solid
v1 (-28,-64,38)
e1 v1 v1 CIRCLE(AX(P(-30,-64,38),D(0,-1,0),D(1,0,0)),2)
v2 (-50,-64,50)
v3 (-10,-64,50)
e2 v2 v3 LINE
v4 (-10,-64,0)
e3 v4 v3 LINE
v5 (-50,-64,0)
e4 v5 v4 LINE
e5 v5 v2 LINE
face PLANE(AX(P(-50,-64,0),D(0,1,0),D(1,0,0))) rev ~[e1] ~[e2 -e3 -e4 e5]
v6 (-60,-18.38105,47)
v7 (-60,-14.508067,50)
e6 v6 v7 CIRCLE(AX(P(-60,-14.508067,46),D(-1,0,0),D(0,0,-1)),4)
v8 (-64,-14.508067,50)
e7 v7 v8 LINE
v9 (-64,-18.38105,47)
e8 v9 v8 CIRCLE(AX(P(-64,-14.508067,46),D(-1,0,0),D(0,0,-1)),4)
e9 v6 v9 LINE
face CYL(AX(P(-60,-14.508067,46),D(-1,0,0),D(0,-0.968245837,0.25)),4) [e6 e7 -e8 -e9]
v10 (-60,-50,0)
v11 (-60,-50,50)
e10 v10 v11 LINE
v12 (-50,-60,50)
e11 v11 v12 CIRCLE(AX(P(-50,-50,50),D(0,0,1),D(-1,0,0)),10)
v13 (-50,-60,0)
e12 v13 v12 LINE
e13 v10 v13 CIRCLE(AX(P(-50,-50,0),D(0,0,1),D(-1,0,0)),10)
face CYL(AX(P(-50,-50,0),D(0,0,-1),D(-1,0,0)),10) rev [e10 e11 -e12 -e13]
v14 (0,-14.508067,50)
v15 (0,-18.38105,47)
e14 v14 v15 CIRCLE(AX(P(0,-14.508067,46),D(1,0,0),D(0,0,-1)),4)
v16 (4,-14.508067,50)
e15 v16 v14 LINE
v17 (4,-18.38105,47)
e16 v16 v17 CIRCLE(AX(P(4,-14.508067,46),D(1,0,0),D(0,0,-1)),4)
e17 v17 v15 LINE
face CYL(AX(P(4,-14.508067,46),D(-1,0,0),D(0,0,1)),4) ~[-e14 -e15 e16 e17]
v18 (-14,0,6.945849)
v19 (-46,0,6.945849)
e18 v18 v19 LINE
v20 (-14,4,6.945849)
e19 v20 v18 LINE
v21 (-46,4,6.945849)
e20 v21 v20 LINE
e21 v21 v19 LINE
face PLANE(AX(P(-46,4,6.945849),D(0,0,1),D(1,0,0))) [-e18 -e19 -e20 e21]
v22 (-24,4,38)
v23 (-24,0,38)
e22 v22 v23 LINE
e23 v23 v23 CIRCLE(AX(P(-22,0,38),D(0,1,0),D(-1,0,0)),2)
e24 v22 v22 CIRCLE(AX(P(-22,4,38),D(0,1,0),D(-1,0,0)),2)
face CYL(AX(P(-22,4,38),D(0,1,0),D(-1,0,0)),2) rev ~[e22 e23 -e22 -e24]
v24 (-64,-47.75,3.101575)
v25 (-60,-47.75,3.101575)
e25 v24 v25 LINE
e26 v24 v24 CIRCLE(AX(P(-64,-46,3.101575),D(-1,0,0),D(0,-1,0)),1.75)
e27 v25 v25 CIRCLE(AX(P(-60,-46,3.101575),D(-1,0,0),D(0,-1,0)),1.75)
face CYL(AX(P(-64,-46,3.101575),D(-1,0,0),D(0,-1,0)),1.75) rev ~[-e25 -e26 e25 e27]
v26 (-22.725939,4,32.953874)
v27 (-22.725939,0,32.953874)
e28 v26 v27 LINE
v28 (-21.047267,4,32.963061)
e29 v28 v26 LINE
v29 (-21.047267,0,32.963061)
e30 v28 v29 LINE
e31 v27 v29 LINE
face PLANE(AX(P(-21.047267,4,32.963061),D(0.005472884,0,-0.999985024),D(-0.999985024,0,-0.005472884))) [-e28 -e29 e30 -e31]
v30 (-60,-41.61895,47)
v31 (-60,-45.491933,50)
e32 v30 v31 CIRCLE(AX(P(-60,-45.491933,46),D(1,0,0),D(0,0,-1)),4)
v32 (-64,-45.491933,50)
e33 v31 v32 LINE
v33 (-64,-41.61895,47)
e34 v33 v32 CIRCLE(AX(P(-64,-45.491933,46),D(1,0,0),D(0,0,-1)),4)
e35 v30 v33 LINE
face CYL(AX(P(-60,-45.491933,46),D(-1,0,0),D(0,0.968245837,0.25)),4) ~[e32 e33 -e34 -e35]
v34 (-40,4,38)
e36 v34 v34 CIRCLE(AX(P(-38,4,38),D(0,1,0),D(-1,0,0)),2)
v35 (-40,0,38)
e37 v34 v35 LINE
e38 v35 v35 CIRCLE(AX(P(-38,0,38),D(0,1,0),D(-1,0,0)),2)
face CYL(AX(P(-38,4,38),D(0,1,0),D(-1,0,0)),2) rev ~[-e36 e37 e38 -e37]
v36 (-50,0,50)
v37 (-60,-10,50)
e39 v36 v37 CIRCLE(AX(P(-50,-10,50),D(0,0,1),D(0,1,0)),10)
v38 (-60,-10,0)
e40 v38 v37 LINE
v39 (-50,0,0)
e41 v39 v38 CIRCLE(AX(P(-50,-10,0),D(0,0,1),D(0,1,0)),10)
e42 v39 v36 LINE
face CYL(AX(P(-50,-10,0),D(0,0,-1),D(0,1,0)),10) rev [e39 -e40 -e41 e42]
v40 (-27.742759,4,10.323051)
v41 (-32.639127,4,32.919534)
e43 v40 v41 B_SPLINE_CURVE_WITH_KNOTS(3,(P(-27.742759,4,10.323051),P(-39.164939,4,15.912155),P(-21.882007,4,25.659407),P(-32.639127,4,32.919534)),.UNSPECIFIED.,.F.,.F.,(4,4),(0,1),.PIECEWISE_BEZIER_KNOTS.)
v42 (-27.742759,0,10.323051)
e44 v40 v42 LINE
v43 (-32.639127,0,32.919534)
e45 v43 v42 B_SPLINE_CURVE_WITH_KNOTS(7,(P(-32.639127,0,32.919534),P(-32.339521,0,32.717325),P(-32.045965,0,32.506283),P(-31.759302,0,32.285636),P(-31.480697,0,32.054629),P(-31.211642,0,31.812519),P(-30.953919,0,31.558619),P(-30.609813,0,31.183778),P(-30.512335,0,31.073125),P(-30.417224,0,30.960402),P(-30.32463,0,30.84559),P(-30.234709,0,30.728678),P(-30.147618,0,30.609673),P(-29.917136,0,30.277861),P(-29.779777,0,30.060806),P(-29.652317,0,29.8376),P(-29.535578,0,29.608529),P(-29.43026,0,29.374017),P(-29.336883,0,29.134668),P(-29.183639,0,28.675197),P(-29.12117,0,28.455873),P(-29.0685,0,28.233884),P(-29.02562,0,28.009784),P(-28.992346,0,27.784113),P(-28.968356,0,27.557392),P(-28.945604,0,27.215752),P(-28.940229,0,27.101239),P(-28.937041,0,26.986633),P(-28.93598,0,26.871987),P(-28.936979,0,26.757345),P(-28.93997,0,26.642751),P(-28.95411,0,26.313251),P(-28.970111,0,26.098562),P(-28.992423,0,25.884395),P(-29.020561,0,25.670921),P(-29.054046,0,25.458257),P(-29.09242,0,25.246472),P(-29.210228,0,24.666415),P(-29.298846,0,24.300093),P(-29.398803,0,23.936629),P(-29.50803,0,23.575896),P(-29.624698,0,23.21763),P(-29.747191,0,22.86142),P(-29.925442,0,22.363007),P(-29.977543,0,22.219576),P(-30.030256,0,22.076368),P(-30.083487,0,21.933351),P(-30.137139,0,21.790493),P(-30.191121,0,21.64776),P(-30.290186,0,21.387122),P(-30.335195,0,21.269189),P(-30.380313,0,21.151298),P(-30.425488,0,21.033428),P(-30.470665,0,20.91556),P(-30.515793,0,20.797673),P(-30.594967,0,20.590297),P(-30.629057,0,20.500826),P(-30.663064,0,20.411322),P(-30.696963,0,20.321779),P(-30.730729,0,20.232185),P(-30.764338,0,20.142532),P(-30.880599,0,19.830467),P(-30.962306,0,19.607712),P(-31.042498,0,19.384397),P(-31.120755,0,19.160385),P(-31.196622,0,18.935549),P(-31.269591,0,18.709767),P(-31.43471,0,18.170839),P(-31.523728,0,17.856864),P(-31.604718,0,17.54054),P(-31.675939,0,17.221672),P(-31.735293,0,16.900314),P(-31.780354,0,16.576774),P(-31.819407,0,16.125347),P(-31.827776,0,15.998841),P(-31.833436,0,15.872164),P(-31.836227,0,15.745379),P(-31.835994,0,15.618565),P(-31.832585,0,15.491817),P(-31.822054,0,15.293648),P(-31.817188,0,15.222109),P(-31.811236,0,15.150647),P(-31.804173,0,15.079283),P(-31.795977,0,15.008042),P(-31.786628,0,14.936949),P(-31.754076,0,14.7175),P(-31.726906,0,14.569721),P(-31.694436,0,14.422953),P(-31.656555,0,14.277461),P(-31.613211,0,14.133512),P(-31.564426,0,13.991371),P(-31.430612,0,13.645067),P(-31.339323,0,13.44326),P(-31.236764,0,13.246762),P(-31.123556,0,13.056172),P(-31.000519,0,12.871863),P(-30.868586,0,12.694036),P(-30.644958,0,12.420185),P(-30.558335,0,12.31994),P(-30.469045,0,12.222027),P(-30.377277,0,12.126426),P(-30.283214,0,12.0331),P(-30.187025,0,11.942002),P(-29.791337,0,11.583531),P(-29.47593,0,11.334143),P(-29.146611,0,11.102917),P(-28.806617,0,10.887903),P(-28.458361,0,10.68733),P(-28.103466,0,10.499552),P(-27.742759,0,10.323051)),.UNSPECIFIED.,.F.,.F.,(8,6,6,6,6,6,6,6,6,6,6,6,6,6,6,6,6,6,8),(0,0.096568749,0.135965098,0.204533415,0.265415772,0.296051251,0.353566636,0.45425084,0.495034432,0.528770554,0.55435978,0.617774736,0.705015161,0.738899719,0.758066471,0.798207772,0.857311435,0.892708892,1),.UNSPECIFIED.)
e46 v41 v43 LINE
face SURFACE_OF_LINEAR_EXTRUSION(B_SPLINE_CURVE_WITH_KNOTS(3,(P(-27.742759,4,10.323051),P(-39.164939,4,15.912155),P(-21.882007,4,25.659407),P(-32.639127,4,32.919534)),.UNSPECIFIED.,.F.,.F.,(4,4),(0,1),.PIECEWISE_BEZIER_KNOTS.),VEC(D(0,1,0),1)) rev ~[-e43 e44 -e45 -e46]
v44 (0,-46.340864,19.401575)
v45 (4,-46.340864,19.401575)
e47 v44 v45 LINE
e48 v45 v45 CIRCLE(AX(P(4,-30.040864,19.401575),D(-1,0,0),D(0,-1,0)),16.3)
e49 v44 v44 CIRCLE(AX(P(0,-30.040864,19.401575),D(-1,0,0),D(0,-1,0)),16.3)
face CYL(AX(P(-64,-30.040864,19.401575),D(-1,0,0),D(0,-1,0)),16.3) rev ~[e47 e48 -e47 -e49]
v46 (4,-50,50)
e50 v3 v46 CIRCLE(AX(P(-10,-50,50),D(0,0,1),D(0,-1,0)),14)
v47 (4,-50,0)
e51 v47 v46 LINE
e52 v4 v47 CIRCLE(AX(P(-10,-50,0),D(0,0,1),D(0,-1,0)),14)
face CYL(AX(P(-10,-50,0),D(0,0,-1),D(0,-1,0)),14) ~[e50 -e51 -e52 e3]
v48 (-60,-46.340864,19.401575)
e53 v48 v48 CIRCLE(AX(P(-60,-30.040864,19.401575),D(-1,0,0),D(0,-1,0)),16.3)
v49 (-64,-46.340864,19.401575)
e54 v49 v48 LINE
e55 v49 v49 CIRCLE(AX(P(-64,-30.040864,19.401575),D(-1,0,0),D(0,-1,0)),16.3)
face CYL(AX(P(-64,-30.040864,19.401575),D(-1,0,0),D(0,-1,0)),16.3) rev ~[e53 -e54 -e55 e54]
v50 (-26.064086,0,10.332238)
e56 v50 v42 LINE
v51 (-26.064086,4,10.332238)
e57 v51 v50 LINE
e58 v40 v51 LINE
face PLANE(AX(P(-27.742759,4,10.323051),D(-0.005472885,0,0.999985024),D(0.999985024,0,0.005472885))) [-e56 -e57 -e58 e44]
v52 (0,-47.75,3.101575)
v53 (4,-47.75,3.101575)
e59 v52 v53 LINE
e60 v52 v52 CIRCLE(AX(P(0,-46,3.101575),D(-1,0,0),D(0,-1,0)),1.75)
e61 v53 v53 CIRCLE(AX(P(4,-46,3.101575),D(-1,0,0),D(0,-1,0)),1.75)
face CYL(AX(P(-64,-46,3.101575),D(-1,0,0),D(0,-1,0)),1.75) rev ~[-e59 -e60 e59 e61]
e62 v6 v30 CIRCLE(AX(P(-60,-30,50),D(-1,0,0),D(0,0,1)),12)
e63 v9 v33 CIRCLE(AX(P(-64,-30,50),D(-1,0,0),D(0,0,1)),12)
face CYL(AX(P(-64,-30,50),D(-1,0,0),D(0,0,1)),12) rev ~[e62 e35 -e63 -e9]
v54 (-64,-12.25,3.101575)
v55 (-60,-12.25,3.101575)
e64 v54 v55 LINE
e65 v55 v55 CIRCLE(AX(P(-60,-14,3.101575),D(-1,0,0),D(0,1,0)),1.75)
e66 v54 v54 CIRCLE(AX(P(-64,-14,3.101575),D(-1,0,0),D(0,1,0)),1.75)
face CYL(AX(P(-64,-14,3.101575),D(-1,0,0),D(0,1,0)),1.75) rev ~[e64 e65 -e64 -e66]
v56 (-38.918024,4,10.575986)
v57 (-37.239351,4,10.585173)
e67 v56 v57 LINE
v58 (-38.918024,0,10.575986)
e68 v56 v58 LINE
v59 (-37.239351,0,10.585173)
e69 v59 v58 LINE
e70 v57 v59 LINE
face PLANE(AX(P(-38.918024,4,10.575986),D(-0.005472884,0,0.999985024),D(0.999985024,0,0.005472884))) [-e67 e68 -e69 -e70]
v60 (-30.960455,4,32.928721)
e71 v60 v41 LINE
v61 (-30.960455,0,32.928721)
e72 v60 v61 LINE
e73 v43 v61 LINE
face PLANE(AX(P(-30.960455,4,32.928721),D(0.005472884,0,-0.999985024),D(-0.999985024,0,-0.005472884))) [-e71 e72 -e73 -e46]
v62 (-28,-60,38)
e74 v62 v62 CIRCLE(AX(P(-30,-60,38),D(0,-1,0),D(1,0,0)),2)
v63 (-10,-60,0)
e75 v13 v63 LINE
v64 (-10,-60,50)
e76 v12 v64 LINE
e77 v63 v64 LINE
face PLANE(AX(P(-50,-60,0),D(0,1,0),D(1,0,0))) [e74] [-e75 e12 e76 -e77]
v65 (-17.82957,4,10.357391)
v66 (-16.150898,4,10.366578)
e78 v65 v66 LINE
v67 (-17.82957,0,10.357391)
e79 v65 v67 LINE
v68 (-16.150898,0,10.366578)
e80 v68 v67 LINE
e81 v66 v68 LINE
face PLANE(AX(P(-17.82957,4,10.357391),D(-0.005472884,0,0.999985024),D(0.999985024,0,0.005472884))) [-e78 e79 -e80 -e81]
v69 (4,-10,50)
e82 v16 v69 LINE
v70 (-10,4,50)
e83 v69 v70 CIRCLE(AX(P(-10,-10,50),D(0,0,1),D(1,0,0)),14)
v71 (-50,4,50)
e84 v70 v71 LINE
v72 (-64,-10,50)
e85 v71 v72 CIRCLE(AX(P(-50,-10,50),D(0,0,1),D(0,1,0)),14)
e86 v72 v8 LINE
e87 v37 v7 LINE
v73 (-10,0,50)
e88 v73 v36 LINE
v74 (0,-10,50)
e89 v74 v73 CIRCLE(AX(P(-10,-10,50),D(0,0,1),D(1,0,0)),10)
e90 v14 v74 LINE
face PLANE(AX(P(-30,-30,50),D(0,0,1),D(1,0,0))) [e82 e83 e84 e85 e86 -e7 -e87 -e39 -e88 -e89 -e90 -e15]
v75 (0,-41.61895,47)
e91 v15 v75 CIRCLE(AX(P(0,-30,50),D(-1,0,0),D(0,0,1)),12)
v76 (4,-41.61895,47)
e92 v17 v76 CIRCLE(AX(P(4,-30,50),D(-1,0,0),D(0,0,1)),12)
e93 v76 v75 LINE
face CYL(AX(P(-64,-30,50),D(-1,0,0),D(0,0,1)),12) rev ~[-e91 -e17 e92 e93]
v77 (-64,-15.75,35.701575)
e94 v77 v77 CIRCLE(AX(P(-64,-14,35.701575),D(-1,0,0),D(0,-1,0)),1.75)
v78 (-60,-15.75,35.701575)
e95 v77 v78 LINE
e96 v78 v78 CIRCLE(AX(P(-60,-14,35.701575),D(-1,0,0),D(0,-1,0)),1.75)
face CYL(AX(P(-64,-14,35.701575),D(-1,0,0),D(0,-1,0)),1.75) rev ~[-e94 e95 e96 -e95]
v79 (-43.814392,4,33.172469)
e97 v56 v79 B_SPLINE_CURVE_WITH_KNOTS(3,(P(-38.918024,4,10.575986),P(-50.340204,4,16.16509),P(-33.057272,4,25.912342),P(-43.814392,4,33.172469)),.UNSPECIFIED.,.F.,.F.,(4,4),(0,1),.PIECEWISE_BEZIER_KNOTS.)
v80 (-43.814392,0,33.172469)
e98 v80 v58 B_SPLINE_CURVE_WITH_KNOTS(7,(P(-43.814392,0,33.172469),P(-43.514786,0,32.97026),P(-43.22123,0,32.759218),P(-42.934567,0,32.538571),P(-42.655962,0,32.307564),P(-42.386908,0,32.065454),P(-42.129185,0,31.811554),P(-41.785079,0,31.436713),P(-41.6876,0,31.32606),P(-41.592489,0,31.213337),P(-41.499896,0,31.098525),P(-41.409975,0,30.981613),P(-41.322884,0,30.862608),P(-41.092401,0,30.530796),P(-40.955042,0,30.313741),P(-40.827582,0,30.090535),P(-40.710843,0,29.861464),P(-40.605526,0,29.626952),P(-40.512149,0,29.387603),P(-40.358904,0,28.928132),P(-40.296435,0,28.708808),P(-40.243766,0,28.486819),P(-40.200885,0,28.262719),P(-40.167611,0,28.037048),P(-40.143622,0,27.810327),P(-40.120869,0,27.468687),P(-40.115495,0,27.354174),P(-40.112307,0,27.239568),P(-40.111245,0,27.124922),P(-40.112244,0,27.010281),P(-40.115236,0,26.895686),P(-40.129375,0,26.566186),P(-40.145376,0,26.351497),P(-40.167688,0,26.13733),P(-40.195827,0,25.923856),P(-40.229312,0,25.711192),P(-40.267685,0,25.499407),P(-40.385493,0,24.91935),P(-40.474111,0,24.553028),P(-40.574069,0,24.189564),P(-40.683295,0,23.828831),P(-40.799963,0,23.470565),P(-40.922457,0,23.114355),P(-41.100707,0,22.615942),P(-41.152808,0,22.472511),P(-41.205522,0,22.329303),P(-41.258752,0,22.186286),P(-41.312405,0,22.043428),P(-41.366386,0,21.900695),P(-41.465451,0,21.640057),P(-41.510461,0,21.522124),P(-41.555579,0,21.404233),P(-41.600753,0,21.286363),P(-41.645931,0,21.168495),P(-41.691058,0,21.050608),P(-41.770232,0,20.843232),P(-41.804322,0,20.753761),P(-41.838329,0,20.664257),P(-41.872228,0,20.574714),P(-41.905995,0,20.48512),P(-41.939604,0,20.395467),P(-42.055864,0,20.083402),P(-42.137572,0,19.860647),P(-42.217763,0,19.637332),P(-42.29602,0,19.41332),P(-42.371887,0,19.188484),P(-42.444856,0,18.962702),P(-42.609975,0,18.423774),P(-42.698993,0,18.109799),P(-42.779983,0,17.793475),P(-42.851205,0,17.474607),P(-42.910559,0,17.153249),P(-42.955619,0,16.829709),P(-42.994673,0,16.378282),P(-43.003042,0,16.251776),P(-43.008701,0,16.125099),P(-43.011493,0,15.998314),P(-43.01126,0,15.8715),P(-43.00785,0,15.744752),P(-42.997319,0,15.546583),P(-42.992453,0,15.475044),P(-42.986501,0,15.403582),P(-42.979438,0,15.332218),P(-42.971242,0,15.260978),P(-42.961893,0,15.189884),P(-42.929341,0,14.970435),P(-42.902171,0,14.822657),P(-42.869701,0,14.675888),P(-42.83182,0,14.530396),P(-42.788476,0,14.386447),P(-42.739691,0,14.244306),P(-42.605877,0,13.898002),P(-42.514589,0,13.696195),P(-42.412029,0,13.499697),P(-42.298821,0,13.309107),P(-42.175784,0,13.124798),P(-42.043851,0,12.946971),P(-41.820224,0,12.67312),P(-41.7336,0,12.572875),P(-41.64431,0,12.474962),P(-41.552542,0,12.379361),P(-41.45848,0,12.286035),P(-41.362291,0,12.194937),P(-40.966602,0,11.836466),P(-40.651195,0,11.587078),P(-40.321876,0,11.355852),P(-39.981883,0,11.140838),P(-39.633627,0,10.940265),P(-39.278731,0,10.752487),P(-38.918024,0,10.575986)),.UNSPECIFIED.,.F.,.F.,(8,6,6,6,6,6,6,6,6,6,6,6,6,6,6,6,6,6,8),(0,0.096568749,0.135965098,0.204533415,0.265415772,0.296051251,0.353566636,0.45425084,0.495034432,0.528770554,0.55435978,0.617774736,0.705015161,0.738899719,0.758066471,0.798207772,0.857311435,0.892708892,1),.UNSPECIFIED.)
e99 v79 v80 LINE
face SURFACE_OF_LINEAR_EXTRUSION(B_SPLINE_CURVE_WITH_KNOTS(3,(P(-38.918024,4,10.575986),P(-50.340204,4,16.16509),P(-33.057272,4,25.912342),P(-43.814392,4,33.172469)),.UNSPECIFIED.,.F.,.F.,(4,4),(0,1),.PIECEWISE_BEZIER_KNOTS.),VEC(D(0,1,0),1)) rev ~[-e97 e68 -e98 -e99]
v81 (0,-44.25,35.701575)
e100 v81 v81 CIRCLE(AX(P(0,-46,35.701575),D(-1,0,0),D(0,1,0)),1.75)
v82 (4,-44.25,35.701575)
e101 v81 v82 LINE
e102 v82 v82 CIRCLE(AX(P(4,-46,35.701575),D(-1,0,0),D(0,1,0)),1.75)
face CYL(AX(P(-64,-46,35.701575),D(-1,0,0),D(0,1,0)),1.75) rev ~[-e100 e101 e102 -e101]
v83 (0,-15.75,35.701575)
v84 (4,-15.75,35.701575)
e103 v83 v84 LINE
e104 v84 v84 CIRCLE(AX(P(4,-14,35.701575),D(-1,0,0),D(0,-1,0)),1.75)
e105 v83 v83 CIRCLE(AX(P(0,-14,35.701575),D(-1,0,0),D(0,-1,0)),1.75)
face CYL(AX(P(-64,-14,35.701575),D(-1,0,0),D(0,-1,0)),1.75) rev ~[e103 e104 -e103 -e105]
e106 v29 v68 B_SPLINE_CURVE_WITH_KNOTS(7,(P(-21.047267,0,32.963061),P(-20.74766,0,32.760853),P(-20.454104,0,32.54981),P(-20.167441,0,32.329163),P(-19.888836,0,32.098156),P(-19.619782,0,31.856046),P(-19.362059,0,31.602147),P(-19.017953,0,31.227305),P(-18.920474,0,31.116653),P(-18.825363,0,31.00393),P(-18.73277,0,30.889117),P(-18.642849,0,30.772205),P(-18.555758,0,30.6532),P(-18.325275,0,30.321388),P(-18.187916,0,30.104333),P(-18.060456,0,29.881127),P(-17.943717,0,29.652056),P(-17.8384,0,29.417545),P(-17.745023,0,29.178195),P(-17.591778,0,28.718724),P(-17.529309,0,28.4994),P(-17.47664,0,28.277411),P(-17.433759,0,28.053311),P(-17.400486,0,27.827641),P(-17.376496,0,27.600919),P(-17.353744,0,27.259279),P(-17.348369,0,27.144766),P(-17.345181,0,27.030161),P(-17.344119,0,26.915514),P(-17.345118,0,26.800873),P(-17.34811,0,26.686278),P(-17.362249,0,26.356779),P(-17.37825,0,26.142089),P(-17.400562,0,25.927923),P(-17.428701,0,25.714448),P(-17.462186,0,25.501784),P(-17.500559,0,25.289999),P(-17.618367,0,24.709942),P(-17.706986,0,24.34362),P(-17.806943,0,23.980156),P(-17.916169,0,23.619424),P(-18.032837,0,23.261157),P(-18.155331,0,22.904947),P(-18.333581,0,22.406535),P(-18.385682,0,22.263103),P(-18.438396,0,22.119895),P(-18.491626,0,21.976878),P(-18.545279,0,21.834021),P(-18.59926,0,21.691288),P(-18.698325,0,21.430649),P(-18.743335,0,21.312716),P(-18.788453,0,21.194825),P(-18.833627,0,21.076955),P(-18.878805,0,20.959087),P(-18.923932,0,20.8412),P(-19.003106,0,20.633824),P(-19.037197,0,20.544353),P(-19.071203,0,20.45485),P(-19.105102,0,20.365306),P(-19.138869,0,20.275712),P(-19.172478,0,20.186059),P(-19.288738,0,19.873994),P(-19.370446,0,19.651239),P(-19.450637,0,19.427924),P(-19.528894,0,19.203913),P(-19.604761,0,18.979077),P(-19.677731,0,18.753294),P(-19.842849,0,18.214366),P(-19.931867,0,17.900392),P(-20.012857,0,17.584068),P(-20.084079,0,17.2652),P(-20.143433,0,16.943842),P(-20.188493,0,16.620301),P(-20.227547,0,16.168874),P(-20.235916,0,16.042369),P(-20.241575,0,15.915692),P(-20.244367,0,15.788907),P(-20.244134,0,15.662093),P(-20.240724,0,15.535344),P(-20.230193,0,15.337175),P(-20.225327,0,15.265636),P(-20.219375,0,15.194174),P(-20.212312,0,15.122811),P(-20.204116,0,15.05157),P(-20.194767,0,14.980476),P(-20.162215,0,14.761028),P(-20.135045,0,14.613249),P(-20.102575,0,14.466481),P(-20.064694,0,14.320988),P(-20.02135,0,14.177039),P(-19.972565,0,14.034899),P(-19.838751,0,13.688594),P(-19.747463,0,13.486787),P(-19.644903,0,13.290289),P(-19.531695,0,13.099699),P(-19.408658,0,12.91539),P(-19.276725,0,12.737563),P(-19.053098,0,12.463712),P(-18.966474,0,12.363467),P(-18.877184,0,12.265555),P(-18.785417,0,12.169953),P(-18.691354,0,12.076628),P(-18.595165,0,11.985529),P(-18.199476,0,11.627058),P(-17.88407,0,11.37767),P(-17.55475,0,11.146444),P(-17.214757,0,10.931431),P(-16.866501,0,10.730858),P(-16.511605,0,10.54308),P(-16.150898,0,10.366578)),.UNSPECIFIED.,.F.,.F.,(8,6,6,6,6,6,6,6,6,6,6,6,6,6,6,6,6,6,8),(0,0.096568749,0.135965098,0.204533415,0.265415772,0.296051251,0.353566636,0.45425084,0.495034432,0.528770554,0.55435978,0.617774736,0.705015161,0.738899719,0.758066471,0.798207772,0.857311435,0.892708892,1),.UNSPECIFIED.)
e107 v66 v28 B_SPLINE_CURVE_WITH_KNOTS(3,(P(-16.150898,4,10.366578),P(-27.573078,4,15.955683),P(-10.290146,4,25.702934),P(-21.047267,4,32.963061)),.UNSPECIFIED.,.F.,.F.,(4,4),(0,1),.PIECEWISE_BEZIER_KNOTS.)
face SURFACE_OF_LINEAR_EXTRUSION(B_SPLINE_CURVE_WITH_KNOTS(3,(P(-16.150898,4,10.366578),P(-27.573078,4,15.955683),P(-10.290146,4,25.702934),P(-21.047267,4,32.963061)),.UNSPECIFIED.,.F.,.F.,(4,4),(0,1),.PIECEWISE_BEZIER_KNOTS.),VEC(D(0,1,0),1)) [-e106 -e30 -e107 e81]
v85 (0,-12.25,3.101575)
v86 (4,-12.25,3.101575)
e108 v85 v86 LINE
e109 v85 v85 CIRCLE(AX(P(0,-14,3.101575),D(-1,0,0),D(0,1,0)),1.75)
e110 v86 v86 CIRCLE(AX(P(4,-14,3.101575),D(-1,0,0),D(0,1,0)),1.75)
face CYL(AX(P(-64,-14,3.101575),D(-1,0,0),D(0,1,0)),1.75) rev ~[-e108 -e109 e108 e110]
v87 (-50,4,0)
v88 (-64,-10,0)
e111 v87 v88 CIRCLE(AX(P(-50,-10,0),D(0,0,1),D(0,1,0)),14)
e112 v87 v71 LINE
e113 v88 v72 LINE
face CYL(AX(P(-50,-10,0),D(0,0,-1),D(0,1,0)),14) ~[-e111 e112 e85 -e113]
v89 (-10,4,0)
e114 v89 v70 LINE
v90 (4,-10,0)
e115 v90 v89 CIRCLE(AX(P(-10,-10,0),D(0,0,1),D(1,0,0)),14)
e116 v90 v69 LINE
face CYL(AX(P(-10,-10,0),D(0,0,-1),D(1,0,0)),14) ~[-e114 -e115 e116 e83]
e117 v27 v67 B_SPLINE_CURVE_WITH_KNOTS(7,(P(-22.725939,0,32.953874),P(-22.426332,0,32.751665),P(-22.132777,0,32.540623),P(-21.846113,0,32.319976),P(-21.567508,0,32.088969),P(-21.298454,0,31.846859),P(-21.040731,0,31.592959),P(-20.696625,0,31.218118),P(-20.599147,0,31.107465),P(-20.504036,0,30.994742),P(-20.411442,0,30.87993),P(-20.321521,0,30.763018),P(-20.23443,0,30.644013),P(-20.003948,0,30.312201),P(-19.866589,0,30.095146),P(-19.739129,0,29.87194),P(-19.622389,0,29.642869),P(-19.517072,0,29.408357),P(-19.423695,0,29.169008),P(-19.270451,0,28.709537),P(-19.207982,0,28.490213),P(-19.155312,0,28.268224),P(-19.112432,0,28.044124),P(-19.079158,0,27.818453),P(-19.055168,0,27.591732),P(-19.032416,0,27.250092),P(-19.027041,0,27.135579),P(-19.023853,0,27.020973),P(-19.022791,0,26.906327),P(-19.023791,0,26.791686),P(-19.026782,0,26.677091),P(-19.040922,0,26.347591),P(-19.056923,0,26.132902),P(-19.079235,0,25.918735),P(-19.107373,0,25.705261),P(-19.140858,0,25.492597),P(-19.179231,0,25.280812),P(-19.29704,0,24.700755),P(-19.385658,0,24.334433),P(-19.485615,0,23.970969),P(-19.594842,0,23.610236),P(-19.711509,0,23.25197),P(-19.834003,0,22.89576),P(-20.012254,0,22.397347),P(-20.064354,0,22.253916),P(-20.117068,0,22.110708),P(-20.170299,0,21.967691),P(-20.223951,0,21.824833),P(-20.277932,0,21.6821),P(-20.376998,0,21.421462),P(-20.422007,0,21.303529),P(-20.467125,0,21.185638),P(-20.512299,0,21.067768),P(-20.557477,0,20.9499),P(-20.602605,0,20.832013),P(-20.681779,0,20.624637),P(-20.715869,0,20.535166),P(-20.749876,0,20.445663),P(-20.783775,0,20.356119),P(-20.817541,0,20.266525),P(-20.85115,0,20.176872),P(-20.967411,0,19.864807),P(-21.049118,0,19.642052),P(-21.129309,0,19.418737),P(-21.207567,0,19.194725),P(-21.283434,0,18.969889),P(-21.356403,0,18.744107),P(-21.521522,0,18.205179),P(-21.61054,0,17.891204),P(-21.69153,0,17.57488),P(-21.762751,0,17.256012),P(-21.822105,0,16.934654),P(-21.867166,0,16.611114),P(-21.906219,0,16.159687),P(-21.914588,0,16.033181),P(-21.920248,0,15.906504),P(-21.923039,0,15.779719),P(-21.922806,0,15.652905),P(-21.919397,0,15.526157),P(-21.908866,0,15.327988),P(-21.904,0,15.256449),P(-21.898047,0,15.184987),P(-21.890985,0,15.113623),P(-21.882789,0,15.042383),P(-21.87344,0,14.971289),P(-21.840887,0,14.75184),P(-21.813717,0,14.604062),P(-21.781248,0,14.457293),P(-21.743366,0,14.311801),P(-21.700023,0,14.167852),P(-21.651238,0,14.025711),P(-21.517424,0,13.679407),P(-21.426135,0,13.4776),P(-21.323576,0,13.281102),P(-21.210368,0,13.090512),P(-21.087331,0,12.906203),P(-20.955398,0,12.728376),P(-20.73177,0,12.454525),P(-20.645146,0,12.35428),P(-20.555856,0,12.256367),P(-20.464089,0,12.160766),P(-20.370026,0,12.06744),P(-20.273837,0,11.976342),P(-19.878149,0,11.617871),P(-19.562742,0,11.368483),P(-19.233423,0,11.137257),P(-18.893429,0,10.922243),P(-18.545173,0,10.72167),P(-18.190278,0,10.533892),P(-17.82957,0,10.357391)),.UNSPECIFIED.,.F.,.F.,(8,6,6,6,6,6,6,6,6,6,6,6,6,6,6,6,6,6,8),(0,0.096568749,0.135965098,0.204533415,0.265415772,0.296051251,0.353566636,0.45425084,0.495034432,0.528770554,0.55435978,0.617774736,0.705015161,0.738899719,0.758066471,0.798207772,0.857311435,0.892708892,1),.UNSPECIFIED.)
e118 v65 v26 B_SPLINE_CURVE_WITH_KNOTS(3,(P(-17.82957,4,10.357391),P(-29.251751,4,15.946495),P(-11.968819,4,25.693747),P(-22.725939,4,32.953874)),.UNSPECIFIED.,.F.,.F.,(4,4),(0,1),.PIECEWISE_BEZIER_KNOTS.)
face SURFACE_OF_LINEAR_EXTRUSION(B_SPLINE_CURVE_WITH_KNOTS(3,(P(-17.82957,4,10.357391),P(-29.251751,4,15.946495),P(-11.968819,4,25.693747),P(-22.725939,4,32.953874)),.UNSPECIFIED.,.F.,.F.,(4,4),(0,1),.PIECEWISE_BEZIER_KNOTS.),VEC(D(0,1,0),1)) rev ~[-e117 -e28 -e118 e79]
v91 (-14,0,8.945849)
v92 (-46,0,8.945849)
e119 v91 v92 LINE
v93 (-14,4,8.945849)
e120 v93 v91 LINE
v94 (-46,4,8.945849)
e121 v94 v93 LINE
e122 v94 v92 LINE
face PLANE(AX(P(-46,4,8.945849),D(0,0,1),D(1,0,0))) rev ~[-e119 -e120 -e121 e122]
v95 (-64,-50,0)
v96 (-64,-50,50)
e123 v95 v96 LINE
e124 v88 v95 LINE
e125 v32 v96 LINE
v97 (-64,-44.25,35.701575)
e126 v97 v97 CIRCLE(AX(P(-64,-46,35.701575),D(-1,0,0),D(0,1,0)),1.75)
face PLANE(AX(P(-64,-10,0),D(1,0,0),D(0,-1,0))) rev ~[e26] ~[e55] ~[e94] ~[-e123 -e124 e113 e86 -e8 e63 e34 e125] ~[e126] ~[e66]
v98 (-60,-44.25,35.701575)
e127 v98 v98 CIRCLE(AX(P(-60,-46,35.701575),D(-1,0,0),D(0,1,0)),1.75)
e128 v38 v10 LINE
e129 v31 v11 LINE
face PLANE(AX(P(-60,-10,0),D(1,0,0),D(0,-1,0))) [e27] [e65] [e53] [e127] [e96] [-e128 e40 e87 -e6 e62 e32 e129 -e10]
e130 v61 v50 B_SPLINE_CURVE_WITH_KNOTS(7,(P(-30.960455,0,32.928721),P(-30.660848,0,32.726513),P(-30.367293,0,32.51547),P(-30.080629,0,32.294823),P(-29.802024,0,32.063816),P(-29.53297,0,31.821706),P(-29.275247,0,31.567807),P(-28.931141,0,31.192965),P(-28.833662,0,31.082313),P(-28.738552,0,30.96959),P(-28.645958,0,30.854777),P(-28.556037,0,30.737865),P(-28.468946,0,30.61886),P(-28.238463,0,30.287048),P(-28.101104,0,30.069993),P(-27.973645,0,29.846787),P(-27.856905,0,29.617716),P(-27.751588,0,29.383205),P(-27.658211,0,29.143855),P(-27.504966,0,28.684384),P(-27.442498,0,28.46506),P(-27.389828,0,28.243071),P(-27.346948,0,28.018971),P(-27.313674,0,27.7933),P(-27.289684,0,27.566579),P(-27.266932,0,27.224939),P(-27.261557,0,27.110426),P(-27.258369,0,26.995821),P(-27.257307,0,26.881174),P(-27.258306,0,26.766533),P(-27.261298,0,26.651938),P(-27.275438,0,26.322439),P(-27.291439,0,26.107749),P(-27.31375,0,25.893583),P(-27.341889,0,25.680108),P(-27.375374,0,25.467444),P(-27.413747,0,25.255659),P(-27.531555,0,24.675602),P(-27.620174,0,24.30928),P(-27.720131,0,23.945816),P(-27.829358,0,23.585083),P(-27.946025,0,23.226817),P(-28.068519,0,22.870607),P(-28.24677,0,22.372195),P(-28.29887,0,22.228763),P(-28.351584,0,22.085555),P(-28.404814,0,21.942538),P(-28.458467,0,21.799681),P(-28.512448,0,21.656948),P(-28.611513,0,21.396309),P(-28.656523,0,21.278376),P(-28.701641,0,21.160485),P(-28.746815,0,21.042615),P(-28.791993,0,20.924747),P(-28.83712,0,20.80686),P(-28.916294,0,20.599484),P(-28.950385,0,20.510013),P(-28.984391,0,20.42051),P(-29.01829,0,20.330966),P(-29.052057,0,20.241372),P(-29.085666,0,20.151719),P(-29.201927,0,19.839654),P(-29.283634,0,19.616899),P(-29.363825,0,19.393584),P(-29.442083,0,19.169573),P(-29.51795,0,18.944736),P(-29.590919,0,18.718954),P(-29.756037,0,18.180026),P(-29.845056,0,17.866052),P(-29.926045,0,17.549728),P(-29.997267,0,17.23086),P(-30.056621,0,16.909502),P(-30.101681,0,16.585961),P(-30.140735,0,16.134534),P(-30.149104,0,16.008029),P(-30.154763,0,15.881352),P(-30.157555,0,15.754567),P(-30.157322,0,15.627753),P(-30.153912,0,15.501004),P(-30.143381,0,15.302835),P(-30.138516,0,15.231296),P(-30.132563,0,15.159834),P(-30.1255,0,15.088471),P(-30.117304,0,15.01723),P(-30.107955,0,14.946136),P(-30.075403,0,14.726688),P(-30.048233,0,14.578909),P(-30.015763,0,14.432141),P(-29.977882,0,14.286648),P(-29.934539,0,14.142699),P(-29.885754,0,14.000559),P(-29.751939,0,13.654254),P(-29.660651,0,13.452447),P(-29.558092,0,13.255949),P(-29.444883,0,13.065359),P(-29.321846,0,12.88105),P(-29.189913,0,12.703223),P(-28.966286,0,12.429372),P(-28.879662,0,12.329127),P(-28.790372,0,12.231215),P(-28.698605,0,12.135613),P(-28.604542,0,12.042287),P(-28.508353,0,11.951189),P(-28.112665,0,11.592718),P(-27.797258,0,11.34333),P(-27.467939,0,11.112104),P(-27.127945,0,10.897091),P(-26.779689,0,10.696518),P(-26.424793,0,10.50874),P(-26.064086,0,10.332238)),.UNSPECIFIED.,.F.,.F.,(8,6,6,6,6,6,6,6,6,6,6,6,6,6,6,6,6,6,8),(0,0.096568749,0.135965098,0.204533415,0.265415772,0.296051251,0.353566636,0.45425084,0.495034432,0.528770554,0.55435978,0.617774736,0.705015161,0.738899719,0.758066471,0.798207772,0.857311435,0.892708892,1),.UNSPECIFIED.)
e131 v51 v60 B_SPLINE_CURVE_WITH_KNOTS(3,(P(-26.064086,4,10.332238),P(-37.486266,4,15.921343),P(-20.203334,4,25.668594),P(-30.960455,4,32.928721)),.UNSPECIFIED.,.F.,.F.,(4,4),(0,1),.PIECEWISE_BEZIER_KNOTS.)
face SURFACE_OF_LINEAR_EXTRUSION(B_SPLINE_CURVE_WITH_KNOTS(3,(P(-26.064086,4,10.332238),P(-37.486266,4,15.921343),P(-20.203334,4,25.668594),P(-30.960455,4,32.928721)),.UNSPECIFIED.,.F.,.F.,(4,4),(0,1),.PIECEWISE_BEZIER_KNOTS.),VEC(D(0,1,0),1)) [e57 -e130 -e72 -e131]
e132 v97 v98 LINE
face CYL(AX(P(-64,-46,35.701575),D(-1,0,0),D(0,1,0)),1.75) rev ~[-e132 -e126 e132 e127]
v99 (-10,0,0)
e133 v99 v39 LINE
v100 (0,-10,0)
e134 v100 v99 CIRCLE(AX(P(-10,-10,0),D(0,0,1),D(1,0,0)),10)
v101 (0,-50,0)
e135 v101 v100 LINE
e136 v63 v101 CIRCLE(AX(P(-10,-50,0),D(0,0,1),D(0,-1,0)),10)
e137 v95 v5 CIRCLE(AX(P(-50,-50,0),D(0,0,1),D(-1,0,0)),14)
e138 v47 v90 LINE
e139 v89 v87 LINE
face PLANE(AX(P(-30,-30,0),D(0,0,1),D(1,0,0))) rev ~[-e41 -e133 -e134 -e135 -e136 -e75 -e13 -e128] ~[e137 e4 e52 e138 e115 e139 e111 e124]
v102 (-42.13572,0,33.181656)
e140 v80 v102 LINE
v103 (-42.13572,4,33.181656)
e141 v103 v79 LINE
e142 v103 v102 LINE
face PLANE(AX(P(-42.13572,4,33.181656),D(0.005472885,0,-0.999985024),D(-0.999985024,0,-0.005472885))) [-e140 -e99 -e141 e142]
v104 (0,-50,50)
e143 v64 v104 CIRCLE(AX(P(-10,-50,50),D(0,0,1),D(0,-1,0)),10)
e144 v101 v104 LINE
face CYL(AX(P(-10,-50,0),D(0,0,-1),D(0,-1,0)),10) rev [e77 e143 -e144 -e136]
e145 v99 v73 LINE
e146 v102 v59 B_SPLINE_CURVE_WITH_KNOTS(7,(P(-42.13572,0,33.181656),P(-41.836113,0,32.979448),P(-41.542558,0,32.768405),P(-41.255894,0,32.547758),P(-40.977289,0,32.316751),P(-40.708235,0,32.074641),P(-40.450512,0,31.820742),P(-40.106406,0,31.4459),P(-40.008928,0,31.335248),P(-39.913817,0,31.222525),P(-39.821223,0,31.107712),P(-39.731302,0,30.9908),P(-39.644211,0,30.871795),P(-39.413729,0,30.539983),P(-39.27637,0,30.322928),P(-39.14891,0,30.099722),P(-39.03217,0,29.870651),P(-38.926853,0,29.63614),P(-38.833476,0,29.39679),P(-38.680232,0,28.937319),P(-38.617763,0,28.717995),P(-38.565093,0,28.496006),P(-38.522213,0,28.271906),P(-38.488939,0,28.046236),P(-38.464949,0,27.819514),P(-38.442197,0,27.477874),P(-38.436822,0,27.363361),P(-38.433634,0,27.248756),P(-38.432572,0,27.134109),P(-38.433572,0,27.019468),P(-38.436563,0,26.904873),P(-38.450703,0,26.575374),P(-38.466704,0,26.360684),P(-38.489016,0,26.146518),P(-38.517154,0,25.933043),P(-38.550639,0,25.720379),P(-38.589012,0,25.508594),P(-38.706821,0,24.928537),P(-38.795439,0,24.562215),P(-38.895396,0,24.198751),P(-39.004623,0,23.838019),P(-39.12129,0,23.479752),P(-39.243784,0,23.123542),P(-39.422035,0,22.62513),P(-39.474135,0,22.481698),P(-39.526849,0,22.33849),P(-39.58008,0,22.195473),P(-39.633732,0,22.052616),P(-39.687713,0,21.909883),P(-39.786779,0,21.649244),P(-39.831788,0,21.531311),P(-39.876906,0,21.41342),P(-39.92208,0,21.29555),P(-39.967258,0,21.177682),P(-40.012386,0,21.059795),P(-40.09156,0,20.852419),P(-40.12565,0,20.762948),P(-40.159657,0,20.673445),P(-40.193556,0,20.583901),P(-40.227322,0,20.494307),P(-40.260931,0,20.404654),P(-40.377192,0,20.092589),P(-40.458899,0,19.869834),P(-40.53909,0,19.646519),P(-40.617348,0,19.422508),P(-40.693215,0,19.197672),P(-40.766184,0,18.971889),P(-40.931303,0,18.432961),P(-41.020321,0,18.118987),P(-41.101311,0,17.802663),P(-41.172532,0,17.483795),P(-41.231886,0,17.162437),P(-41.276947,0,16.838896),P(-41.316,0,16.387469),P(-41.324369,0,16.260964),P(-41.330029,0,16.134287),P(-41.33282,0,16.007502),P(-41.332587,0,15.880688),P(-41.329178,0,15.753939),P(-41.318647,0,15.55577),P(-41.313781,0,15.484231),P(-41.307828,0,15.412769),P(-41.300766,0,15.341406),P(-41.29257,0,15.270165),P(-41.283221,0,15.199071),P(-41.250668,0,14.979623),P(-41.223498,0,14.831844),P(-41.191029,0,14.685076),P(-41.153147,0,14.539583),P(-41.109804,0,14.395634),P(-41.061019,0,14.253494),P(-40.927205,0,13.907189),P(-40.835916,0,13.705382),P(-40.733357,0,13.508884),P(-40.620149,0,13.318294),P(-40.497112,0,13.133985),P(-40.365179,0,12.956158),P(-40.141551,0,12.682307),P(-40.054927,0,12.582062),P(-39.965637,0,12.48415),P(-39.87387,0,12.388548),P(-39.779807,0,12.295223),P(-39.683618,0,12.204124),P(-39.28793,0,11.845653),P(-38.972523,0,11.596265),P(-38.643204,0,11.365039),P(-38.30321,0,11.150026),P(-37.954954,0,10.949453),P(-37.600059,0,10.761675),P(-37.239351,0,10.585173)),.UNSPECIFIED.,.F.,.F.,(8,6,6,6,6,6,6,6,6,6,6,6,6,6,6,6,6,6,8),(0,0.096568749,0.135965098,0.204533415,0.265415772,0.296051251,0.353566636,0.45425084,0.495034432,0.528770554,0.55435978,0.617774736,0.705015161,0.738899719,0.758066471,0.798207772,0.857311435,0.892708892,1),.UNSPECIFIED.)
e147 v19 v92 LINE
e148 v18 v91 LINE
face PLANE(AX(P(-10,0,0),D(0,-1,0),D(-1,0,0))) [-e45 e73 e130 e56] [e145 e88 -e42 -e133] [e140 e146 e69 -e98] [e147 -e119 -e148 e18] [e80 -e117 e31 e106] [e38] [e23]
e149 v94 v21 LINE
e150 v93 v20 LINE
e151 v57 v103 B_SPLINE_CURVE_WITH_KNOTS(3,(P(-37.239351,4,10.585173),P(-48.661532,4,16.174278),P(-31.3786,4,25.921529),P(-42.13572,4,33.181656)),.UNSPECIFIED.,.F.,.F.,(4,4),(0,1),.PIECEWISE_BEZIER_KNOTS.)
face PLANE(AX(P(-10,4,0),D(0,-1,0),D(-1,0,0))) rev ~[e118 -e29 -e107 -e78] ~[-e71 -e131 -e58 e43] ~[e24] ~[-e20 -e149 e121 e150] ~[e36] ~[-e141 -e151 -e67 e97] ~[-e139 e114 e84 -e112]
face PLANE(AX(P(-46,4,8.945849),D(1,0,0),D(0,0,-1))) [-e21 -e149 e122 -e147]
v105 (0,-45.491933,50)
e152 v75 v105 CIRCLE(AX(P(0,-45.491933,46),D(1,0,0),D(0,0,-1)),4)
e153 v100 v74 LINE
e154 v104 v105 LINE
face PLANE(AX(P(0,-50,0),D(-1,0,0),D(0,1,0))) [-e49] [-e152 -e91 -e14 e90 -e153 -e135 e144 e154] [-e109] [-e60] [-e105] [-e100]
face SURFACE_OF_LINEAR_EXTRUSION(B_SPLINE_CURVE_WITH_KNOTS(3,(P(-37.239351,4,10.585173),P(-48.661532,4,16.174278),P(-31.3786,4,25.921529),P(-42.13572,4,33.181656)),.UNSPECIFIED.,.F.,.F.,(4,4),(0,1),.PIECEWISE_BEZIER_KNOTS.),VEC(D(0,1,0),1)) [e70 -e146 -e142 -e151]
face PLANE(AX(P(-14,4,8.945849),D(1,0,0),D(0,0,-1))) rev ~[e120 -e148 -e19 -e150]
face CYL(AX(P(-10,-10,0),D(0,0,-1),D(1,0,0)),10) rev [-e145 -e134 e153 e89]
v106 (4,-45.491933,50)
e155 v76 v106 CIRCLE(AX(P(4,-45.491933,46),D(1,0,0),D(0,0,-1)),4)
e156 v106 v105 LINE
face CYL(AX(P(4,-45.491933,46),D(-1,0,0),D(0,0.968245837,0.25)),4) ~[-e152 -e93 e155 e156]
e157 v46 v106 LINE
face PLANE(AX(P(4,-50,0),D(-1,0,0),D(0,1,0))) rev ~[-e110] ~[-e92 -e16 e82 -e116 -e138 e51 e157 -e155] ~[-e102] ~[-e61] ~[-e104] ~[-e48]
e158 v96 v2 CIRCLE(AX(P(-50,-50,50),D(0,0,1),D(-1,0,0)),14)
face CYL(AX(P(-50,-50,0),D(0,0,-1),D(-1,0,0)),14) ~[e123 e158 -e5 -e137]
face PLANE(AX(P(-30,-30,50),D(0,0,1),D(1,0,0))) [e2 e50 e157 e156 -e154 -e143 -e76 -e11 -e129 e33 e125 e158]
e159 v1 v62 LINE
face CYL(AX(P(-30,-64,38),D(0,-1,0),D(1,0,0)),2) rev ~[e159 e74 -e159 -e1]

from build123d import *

# Parameters (mm, degrees)
ESTRUSIONE_SOTTILE1_DEPTH = 50
SCHIZZO2_R                = 2
TAGLIO_ESTRUSIONE1_DEPTH  = 10
SCHIZZO3_R                = 12
TAGLIO_ESTRUSIONE2_DEPTH  = 68
RACCORDO1_R               = 4
RACCORDO2_R               = 4
RACCORDO3_R               = 4
RACCORDO4_R               = 4
SCHIZZO4_R                = 2
TAGLIO_ESTRUSIONE3_DEPTH  = 10
SCHIZZO5_W                = 32
SCHIZZO5_H                = 2
TAGLIO_ESTRUSIONE4_DEPTH  = 10
TAGLIO_ESTRUSIONE6_REACH  = 107.925
SCHIZZO8_R                = 16.3
TAGLIO_ESTRUSIONE5_REACH  = 107.925
SCHIZZO7_R                = 1.75


with BuildPart() as part:
    # Schizzo1 → Estrusione-Sottile1 (new body)
    with BuildSketch(Plane.XY):
        with BuildLine():
            Line((-64, -10), (-64, -50))
            ThreePointArc((-64, -50), (-59.899494937, -59.899494937), (-50, -64))
            Line((-50, -64), (-10, -64))
            ThreePointArc((-10, -64), (-0.100505063, -59.899494937), (4, -50))
            Line((4, -50), (4, -10))
            ThreePointArc((4, -10), (-0.100505063, -0.100505063), (-10, 4))
            Line((-10, 4), (-50, 4))
            ThreePointArc((-50, 4), (-59.899494937, -0.100505063), (-64, -10))
        make_face()
        with BuildLine():
            Line((-60, -10), (-60, -50))
            ThreePointArc((-60, -50), (-57.071067812, -57.071067812), (-50, -60))
            Line((-50, -60), (-10, -60))
            ThreePointArc((-10, -60), (-2.928932188, -57.071067812), (0, -50))
            Line((0, -50), (0, -10))
            ThreePointArc((0, -10), (-2.928932188, -2.928932188), (-10, 0))
            Line((-10, 0), (-50, 0))
            ThreePointArc((-50, 0), (-57.071067812, -2.928932188), (-60, -10))
        make_face(mode=Mode.SUBTRACT)
    extrude(amount=ESTRUSIONE_SOTTILE1_DEPTH)

    # Schizzo2 → Taglio-Estrusione1 (cut)
    with BuildSketch(Plane(origin=(0, 4, 0), x_dir=(1, 0, 0), z_dir=(0, 1, 0))):
        with Locations(Location((-38, -38, 0), (0, 0, 180))):
            Circle(SCHIZZO2_R)
        with Locations(Location((-22, -38, 0), (0, 0, 180))):
            Circle(SCHIZZO2_R)
    extrude(amount=-TAGLIO_ESTRUSIONE1_DEPTH, mode=Mode.SUBTRACT)

    # Schizzo3 → Taglio-Estrusione2 (cut)
    with BuildSketch(Plane.ZY.offset(64)):
        with Locations((50, -30)):
            Circle(SCHIZZO3_R)
    extrude(amount=-TAGLIO_ESTRUSIONE2_DEPTH, mode=Mode.SUBTRACT)

    # Raccordo1
    raccordo1_edges = [part.edges().sort_by_distance(p)[0] for p in [
        (-62, -18, 50),
    ]]
    fillet(raccordo1_edges, radius=RACCORDO1_R)

    # Raccordo2
    raccordo2_edges = [part.edges().sort_by_distance(p)[0] for p in [
        (-62, -42, 50),
    ]]
    fillet(raccordo2_edges, radius=RACCORDO2_R)

    # Raccordo3
    raccordo3_edges = [part.edges().sort_by_distance(p)[0] for p in [
        (2, -18, 50),
    ]]
    fillet(raccordo3_edges, radius=RACCORDO3_R)

    # Raccordo4
    raccordo4_edges = [part.edges().sort_by_distance(p)[0] for p in [
        (2, -42, 50),
    ]]
    fillet(raccordo4_edges, radius=RACCORDO4_R)

    # Schizzo4 → Taglio-Estrusione3 (cut)
    with BuildSketch(Plane.XZ.offset(64)):
        with Locations((-30, 38)):
            Circle(SCHIZZO4_R)
    extrude(amount=-TAGLIO_ESTRUSIONE3_DEPTH, mode=Mode.SUBTRACT)

    # Schizzo5 → Taglio-Estrusione4 (cut)
    with BuildSketch(Plane(origin=(0, 4, 0), x_dir=(1, 0, 0), z_dir=(0, 1, 0))):
        with Locations((-30, -7.945849316)):
            Rectangle(SCHIZZO5_W, SCHIZZO5_H)
        with BuildLine():
            Line((-30.960454742, -32.928721256), (-32.639127219, -32.919533938))
            add(Edge.make_bspline(
                [(-27.742758505, -10.323050859), (-39.164938897, -15.912155443), (-21.882006837, -25.659406976), (-32.639127219, -32.919533938)],
                knots=[0, 0, 0, 0, 1, 1, 1, 1], degree=3))
            Line((-27.742758505, -10.323050859), (-26.064086029, -10.332238178))
            add(Edge.make_bspline(
                [(-26.064086029, -10.332238178), (-37.486266421, -15.921342761), (-20.203334361, -25.668594294), (-30.960454742, -32.928721256)],
                knots=[0, 0, 0, 0, 1, 1, 1, 1], degree=3))
        make_face()
        with BuildLine():
            Line((-42.135720019, -33.181656302), (-43.814392495, -33.172468983))
            add(Edge.make_bspline(
                [(-38.918023781, -10.575985905), (-50.340204173, -16.165090488), (-33.057272113, -25.912342021), (-43.814392495, -33.172468983)],
                knots=[0, 0, 0, 0, 1, 1, 1, 1], degree=3))
            Line((-38.918023781, -10.575985905), (-37.239351305, -10.585173223))
            add(Edge.make_bspline(
                [(-37.239351305, -10.585173223), (-48.661531697, -16.174277806), (-31.378599637, -25.921529339), (-42.135720019, -33.181656302)],
                knots=[0, 0, 0, 0, 1, 1, 1, 1], degree=3))
        make_face()
        with BuildLine():
            Line((-21.047266541, -32.963061307), (-22.725939017, -32.953873989))
            add(Edge.make_bspline(
                [(-17.829570303, -10.35739091), (-29.251750695, -15.946495494), (-11.968818635, -25.693747027), (-22.725939017, -32.953873989)],
                knots=[0, 0, 0, 0, 1, 1, 1, 1], degree=3))
            Line((-17.829570303, -10.35739091), (-16.150897827, -10.366578228))
            add(Edge.make_bspline(
                [(-16.150897827, -10.366578228), (-27.573078219, -15.955682812), (-10.290146159, -25.702934345), (-21.047266541, -32.963061307)],
                knots=[0, 0, 0, 0, 1, 1, 1, 1], degree=3))
        make_face()
    extrude(amount=-TAGLIO_ESTRUSIONE4_DEPTH, mode=Mode.SUBTRACT)

    # Taglio-Estrusione6: up to this face of the body (flat: up to its plane)
    taglio_estrusione6_end = Plane(part.part.faces().sort_by_distance((4, -30, 22.393243333))[0])
    # Schizzo8 → Taglio-Estrusione6 (cut, up to the picked face)
    with BuildSketch(Plane.ZY.offset(64), mode=Mode.PRIVATE) as taglio_estrusione6_sk1:
        with Locations(Location((19.401575039, -30.040864416, 0), (0, 0, 270))):
            Circle(SCHIZZO8_R)
    taglio_estrusione6_tool1 = split(extrude(taglio_estrusione6_sk1.sketch, amount=-TAGLIO_ESTRUSIONE6_REACH, mode=Mode.PRIVATE), bisect_by=taglio_estrusione6_end, keep=Keep.BOTH, mode=Mode.PRIVATE)
    add(taglio_estrusione6_tool1.solids().sort_by(Axis((-64, -30.040864, 19.401575), (1, 0, 0)))[0], mode=Mode.SUBTRACT)

    # Taglio-Estrusione5: up to this face of the body (flat: up to its plane)
    taglio_estrusione5_end = Plane(part.part.faces().sort_by_distance((4, -30, 37.359687576))[0])
    # Schizzo7 → Taglio-Estrusione5 (cut, up to the picked face)
    with BuildSketch(Plane.ZY.offset(64), mode=Mode.PRIVATE) as taglio_estrusione5_sk1:
        with Locations(Location((35.701575039, -14, 0), (0, 0, 270))):
            Circle(SCHIZZO7_R)
    taglio_estrusione5_tool1 = split(extrude(taglio_estrusione5_sk1.sketch, amount=-TAGLIO_ESTRUSIONE5_REACH, mode=Mode.PRIVATE), bisect_by=taglio_estrusione5_end, keep=Keep.BOTH, mode=Mode.PRIVATE)
    # Schizzo7 → Taglio-Estrusione5 (cut, up to the picked face)
    with BuildSketch(Plane.ZY.offset(64), mode=Mode.PRIVATE) as taglio_estrusione5_sk2:
        with Locations(Location((35.701575039, -46, 0), (0, 0, 90))):
            Circle(SCHIZZO7_R)
    taglio_estrusione5_tool2 = split(extrude(taglio_estrusione5_sk2.sketch, amount=-TAGLIO_ESTRUSIONE5_REACH, mode=Mode.PRIVATE), bisect_by=taglio_estrusione5_end, keep=Keep.BOTH, mode=Mode.PRIVATE)
    # Schizzo7 → Taglio-Estrusione5 (cut, up to the picked face)
    with BuildSketch(Plane.ZY.offset(64), mode=Mode.PRIVATE) as taglio_estrusione5_sk3:
        with Locations(Location((3.101575039, -46, 0), (0, 0, 270))):
            Circle(SCHIZZO7_R)
    taglio_estrusione5_tool3 = split(extrude(taglio_estrusione5_sk3.sketch, amount=-TAGLIO_ESTRUSIONE5_REACH, mode=Mode.PRIVATE), bisect_by=taglio_estrusione5_end, keep=Keep.BOTH, mode=Mode.PRIVATE)
    # Schizzo7 → Taglio-Estrusione5 (cut, up to the picked face)
    with BuildSketch(Plane.ZY.offset(64), mode=Mode.PRIVATE) as taglio_estrusione5_sk4:
        with Locations(Location((3.101575039, -14, 0), (0, 0, 90))):
            Circle(SCHIZZO7_R)
    taglio_estrusione5_tool4 = split(extrude(taglio_estrusione5_sk4.sketch, amount=-TAGLIO_ESTRUSIONE5_REACH, mode=Mode.PRIVATE), bisect_by=taglio_estrusione5_end, keep=Keep.BOTH, mode=Mode.PRIVATE)
    add(taglio_estrusione5_tool1.solids().sort_by(Axis((-64, -14, 35.701575), (1, 0, 0)))[0], mode=Mode.SUBTRACT)
    add(taglio_estrusione5_tool2.solids().sort_by(Axis((-64, -46, 35.701575), (1, 0, 0)))[0], mode=Mode.SUBTRACT)
    add(taglio_estrusione5_tool3.solids().sort_by(Axis((-64, -46, 3.101575), (1, 0, 0)))[0], mode=Mode.SUBTRACT)
    add(taglio_estrusione5_tool4.solids().sort_by(Axis((-64, -14, 3.101575), (1, 0, 0)))[0], mode=Mode.SUBTRACT)


solid = part.part
